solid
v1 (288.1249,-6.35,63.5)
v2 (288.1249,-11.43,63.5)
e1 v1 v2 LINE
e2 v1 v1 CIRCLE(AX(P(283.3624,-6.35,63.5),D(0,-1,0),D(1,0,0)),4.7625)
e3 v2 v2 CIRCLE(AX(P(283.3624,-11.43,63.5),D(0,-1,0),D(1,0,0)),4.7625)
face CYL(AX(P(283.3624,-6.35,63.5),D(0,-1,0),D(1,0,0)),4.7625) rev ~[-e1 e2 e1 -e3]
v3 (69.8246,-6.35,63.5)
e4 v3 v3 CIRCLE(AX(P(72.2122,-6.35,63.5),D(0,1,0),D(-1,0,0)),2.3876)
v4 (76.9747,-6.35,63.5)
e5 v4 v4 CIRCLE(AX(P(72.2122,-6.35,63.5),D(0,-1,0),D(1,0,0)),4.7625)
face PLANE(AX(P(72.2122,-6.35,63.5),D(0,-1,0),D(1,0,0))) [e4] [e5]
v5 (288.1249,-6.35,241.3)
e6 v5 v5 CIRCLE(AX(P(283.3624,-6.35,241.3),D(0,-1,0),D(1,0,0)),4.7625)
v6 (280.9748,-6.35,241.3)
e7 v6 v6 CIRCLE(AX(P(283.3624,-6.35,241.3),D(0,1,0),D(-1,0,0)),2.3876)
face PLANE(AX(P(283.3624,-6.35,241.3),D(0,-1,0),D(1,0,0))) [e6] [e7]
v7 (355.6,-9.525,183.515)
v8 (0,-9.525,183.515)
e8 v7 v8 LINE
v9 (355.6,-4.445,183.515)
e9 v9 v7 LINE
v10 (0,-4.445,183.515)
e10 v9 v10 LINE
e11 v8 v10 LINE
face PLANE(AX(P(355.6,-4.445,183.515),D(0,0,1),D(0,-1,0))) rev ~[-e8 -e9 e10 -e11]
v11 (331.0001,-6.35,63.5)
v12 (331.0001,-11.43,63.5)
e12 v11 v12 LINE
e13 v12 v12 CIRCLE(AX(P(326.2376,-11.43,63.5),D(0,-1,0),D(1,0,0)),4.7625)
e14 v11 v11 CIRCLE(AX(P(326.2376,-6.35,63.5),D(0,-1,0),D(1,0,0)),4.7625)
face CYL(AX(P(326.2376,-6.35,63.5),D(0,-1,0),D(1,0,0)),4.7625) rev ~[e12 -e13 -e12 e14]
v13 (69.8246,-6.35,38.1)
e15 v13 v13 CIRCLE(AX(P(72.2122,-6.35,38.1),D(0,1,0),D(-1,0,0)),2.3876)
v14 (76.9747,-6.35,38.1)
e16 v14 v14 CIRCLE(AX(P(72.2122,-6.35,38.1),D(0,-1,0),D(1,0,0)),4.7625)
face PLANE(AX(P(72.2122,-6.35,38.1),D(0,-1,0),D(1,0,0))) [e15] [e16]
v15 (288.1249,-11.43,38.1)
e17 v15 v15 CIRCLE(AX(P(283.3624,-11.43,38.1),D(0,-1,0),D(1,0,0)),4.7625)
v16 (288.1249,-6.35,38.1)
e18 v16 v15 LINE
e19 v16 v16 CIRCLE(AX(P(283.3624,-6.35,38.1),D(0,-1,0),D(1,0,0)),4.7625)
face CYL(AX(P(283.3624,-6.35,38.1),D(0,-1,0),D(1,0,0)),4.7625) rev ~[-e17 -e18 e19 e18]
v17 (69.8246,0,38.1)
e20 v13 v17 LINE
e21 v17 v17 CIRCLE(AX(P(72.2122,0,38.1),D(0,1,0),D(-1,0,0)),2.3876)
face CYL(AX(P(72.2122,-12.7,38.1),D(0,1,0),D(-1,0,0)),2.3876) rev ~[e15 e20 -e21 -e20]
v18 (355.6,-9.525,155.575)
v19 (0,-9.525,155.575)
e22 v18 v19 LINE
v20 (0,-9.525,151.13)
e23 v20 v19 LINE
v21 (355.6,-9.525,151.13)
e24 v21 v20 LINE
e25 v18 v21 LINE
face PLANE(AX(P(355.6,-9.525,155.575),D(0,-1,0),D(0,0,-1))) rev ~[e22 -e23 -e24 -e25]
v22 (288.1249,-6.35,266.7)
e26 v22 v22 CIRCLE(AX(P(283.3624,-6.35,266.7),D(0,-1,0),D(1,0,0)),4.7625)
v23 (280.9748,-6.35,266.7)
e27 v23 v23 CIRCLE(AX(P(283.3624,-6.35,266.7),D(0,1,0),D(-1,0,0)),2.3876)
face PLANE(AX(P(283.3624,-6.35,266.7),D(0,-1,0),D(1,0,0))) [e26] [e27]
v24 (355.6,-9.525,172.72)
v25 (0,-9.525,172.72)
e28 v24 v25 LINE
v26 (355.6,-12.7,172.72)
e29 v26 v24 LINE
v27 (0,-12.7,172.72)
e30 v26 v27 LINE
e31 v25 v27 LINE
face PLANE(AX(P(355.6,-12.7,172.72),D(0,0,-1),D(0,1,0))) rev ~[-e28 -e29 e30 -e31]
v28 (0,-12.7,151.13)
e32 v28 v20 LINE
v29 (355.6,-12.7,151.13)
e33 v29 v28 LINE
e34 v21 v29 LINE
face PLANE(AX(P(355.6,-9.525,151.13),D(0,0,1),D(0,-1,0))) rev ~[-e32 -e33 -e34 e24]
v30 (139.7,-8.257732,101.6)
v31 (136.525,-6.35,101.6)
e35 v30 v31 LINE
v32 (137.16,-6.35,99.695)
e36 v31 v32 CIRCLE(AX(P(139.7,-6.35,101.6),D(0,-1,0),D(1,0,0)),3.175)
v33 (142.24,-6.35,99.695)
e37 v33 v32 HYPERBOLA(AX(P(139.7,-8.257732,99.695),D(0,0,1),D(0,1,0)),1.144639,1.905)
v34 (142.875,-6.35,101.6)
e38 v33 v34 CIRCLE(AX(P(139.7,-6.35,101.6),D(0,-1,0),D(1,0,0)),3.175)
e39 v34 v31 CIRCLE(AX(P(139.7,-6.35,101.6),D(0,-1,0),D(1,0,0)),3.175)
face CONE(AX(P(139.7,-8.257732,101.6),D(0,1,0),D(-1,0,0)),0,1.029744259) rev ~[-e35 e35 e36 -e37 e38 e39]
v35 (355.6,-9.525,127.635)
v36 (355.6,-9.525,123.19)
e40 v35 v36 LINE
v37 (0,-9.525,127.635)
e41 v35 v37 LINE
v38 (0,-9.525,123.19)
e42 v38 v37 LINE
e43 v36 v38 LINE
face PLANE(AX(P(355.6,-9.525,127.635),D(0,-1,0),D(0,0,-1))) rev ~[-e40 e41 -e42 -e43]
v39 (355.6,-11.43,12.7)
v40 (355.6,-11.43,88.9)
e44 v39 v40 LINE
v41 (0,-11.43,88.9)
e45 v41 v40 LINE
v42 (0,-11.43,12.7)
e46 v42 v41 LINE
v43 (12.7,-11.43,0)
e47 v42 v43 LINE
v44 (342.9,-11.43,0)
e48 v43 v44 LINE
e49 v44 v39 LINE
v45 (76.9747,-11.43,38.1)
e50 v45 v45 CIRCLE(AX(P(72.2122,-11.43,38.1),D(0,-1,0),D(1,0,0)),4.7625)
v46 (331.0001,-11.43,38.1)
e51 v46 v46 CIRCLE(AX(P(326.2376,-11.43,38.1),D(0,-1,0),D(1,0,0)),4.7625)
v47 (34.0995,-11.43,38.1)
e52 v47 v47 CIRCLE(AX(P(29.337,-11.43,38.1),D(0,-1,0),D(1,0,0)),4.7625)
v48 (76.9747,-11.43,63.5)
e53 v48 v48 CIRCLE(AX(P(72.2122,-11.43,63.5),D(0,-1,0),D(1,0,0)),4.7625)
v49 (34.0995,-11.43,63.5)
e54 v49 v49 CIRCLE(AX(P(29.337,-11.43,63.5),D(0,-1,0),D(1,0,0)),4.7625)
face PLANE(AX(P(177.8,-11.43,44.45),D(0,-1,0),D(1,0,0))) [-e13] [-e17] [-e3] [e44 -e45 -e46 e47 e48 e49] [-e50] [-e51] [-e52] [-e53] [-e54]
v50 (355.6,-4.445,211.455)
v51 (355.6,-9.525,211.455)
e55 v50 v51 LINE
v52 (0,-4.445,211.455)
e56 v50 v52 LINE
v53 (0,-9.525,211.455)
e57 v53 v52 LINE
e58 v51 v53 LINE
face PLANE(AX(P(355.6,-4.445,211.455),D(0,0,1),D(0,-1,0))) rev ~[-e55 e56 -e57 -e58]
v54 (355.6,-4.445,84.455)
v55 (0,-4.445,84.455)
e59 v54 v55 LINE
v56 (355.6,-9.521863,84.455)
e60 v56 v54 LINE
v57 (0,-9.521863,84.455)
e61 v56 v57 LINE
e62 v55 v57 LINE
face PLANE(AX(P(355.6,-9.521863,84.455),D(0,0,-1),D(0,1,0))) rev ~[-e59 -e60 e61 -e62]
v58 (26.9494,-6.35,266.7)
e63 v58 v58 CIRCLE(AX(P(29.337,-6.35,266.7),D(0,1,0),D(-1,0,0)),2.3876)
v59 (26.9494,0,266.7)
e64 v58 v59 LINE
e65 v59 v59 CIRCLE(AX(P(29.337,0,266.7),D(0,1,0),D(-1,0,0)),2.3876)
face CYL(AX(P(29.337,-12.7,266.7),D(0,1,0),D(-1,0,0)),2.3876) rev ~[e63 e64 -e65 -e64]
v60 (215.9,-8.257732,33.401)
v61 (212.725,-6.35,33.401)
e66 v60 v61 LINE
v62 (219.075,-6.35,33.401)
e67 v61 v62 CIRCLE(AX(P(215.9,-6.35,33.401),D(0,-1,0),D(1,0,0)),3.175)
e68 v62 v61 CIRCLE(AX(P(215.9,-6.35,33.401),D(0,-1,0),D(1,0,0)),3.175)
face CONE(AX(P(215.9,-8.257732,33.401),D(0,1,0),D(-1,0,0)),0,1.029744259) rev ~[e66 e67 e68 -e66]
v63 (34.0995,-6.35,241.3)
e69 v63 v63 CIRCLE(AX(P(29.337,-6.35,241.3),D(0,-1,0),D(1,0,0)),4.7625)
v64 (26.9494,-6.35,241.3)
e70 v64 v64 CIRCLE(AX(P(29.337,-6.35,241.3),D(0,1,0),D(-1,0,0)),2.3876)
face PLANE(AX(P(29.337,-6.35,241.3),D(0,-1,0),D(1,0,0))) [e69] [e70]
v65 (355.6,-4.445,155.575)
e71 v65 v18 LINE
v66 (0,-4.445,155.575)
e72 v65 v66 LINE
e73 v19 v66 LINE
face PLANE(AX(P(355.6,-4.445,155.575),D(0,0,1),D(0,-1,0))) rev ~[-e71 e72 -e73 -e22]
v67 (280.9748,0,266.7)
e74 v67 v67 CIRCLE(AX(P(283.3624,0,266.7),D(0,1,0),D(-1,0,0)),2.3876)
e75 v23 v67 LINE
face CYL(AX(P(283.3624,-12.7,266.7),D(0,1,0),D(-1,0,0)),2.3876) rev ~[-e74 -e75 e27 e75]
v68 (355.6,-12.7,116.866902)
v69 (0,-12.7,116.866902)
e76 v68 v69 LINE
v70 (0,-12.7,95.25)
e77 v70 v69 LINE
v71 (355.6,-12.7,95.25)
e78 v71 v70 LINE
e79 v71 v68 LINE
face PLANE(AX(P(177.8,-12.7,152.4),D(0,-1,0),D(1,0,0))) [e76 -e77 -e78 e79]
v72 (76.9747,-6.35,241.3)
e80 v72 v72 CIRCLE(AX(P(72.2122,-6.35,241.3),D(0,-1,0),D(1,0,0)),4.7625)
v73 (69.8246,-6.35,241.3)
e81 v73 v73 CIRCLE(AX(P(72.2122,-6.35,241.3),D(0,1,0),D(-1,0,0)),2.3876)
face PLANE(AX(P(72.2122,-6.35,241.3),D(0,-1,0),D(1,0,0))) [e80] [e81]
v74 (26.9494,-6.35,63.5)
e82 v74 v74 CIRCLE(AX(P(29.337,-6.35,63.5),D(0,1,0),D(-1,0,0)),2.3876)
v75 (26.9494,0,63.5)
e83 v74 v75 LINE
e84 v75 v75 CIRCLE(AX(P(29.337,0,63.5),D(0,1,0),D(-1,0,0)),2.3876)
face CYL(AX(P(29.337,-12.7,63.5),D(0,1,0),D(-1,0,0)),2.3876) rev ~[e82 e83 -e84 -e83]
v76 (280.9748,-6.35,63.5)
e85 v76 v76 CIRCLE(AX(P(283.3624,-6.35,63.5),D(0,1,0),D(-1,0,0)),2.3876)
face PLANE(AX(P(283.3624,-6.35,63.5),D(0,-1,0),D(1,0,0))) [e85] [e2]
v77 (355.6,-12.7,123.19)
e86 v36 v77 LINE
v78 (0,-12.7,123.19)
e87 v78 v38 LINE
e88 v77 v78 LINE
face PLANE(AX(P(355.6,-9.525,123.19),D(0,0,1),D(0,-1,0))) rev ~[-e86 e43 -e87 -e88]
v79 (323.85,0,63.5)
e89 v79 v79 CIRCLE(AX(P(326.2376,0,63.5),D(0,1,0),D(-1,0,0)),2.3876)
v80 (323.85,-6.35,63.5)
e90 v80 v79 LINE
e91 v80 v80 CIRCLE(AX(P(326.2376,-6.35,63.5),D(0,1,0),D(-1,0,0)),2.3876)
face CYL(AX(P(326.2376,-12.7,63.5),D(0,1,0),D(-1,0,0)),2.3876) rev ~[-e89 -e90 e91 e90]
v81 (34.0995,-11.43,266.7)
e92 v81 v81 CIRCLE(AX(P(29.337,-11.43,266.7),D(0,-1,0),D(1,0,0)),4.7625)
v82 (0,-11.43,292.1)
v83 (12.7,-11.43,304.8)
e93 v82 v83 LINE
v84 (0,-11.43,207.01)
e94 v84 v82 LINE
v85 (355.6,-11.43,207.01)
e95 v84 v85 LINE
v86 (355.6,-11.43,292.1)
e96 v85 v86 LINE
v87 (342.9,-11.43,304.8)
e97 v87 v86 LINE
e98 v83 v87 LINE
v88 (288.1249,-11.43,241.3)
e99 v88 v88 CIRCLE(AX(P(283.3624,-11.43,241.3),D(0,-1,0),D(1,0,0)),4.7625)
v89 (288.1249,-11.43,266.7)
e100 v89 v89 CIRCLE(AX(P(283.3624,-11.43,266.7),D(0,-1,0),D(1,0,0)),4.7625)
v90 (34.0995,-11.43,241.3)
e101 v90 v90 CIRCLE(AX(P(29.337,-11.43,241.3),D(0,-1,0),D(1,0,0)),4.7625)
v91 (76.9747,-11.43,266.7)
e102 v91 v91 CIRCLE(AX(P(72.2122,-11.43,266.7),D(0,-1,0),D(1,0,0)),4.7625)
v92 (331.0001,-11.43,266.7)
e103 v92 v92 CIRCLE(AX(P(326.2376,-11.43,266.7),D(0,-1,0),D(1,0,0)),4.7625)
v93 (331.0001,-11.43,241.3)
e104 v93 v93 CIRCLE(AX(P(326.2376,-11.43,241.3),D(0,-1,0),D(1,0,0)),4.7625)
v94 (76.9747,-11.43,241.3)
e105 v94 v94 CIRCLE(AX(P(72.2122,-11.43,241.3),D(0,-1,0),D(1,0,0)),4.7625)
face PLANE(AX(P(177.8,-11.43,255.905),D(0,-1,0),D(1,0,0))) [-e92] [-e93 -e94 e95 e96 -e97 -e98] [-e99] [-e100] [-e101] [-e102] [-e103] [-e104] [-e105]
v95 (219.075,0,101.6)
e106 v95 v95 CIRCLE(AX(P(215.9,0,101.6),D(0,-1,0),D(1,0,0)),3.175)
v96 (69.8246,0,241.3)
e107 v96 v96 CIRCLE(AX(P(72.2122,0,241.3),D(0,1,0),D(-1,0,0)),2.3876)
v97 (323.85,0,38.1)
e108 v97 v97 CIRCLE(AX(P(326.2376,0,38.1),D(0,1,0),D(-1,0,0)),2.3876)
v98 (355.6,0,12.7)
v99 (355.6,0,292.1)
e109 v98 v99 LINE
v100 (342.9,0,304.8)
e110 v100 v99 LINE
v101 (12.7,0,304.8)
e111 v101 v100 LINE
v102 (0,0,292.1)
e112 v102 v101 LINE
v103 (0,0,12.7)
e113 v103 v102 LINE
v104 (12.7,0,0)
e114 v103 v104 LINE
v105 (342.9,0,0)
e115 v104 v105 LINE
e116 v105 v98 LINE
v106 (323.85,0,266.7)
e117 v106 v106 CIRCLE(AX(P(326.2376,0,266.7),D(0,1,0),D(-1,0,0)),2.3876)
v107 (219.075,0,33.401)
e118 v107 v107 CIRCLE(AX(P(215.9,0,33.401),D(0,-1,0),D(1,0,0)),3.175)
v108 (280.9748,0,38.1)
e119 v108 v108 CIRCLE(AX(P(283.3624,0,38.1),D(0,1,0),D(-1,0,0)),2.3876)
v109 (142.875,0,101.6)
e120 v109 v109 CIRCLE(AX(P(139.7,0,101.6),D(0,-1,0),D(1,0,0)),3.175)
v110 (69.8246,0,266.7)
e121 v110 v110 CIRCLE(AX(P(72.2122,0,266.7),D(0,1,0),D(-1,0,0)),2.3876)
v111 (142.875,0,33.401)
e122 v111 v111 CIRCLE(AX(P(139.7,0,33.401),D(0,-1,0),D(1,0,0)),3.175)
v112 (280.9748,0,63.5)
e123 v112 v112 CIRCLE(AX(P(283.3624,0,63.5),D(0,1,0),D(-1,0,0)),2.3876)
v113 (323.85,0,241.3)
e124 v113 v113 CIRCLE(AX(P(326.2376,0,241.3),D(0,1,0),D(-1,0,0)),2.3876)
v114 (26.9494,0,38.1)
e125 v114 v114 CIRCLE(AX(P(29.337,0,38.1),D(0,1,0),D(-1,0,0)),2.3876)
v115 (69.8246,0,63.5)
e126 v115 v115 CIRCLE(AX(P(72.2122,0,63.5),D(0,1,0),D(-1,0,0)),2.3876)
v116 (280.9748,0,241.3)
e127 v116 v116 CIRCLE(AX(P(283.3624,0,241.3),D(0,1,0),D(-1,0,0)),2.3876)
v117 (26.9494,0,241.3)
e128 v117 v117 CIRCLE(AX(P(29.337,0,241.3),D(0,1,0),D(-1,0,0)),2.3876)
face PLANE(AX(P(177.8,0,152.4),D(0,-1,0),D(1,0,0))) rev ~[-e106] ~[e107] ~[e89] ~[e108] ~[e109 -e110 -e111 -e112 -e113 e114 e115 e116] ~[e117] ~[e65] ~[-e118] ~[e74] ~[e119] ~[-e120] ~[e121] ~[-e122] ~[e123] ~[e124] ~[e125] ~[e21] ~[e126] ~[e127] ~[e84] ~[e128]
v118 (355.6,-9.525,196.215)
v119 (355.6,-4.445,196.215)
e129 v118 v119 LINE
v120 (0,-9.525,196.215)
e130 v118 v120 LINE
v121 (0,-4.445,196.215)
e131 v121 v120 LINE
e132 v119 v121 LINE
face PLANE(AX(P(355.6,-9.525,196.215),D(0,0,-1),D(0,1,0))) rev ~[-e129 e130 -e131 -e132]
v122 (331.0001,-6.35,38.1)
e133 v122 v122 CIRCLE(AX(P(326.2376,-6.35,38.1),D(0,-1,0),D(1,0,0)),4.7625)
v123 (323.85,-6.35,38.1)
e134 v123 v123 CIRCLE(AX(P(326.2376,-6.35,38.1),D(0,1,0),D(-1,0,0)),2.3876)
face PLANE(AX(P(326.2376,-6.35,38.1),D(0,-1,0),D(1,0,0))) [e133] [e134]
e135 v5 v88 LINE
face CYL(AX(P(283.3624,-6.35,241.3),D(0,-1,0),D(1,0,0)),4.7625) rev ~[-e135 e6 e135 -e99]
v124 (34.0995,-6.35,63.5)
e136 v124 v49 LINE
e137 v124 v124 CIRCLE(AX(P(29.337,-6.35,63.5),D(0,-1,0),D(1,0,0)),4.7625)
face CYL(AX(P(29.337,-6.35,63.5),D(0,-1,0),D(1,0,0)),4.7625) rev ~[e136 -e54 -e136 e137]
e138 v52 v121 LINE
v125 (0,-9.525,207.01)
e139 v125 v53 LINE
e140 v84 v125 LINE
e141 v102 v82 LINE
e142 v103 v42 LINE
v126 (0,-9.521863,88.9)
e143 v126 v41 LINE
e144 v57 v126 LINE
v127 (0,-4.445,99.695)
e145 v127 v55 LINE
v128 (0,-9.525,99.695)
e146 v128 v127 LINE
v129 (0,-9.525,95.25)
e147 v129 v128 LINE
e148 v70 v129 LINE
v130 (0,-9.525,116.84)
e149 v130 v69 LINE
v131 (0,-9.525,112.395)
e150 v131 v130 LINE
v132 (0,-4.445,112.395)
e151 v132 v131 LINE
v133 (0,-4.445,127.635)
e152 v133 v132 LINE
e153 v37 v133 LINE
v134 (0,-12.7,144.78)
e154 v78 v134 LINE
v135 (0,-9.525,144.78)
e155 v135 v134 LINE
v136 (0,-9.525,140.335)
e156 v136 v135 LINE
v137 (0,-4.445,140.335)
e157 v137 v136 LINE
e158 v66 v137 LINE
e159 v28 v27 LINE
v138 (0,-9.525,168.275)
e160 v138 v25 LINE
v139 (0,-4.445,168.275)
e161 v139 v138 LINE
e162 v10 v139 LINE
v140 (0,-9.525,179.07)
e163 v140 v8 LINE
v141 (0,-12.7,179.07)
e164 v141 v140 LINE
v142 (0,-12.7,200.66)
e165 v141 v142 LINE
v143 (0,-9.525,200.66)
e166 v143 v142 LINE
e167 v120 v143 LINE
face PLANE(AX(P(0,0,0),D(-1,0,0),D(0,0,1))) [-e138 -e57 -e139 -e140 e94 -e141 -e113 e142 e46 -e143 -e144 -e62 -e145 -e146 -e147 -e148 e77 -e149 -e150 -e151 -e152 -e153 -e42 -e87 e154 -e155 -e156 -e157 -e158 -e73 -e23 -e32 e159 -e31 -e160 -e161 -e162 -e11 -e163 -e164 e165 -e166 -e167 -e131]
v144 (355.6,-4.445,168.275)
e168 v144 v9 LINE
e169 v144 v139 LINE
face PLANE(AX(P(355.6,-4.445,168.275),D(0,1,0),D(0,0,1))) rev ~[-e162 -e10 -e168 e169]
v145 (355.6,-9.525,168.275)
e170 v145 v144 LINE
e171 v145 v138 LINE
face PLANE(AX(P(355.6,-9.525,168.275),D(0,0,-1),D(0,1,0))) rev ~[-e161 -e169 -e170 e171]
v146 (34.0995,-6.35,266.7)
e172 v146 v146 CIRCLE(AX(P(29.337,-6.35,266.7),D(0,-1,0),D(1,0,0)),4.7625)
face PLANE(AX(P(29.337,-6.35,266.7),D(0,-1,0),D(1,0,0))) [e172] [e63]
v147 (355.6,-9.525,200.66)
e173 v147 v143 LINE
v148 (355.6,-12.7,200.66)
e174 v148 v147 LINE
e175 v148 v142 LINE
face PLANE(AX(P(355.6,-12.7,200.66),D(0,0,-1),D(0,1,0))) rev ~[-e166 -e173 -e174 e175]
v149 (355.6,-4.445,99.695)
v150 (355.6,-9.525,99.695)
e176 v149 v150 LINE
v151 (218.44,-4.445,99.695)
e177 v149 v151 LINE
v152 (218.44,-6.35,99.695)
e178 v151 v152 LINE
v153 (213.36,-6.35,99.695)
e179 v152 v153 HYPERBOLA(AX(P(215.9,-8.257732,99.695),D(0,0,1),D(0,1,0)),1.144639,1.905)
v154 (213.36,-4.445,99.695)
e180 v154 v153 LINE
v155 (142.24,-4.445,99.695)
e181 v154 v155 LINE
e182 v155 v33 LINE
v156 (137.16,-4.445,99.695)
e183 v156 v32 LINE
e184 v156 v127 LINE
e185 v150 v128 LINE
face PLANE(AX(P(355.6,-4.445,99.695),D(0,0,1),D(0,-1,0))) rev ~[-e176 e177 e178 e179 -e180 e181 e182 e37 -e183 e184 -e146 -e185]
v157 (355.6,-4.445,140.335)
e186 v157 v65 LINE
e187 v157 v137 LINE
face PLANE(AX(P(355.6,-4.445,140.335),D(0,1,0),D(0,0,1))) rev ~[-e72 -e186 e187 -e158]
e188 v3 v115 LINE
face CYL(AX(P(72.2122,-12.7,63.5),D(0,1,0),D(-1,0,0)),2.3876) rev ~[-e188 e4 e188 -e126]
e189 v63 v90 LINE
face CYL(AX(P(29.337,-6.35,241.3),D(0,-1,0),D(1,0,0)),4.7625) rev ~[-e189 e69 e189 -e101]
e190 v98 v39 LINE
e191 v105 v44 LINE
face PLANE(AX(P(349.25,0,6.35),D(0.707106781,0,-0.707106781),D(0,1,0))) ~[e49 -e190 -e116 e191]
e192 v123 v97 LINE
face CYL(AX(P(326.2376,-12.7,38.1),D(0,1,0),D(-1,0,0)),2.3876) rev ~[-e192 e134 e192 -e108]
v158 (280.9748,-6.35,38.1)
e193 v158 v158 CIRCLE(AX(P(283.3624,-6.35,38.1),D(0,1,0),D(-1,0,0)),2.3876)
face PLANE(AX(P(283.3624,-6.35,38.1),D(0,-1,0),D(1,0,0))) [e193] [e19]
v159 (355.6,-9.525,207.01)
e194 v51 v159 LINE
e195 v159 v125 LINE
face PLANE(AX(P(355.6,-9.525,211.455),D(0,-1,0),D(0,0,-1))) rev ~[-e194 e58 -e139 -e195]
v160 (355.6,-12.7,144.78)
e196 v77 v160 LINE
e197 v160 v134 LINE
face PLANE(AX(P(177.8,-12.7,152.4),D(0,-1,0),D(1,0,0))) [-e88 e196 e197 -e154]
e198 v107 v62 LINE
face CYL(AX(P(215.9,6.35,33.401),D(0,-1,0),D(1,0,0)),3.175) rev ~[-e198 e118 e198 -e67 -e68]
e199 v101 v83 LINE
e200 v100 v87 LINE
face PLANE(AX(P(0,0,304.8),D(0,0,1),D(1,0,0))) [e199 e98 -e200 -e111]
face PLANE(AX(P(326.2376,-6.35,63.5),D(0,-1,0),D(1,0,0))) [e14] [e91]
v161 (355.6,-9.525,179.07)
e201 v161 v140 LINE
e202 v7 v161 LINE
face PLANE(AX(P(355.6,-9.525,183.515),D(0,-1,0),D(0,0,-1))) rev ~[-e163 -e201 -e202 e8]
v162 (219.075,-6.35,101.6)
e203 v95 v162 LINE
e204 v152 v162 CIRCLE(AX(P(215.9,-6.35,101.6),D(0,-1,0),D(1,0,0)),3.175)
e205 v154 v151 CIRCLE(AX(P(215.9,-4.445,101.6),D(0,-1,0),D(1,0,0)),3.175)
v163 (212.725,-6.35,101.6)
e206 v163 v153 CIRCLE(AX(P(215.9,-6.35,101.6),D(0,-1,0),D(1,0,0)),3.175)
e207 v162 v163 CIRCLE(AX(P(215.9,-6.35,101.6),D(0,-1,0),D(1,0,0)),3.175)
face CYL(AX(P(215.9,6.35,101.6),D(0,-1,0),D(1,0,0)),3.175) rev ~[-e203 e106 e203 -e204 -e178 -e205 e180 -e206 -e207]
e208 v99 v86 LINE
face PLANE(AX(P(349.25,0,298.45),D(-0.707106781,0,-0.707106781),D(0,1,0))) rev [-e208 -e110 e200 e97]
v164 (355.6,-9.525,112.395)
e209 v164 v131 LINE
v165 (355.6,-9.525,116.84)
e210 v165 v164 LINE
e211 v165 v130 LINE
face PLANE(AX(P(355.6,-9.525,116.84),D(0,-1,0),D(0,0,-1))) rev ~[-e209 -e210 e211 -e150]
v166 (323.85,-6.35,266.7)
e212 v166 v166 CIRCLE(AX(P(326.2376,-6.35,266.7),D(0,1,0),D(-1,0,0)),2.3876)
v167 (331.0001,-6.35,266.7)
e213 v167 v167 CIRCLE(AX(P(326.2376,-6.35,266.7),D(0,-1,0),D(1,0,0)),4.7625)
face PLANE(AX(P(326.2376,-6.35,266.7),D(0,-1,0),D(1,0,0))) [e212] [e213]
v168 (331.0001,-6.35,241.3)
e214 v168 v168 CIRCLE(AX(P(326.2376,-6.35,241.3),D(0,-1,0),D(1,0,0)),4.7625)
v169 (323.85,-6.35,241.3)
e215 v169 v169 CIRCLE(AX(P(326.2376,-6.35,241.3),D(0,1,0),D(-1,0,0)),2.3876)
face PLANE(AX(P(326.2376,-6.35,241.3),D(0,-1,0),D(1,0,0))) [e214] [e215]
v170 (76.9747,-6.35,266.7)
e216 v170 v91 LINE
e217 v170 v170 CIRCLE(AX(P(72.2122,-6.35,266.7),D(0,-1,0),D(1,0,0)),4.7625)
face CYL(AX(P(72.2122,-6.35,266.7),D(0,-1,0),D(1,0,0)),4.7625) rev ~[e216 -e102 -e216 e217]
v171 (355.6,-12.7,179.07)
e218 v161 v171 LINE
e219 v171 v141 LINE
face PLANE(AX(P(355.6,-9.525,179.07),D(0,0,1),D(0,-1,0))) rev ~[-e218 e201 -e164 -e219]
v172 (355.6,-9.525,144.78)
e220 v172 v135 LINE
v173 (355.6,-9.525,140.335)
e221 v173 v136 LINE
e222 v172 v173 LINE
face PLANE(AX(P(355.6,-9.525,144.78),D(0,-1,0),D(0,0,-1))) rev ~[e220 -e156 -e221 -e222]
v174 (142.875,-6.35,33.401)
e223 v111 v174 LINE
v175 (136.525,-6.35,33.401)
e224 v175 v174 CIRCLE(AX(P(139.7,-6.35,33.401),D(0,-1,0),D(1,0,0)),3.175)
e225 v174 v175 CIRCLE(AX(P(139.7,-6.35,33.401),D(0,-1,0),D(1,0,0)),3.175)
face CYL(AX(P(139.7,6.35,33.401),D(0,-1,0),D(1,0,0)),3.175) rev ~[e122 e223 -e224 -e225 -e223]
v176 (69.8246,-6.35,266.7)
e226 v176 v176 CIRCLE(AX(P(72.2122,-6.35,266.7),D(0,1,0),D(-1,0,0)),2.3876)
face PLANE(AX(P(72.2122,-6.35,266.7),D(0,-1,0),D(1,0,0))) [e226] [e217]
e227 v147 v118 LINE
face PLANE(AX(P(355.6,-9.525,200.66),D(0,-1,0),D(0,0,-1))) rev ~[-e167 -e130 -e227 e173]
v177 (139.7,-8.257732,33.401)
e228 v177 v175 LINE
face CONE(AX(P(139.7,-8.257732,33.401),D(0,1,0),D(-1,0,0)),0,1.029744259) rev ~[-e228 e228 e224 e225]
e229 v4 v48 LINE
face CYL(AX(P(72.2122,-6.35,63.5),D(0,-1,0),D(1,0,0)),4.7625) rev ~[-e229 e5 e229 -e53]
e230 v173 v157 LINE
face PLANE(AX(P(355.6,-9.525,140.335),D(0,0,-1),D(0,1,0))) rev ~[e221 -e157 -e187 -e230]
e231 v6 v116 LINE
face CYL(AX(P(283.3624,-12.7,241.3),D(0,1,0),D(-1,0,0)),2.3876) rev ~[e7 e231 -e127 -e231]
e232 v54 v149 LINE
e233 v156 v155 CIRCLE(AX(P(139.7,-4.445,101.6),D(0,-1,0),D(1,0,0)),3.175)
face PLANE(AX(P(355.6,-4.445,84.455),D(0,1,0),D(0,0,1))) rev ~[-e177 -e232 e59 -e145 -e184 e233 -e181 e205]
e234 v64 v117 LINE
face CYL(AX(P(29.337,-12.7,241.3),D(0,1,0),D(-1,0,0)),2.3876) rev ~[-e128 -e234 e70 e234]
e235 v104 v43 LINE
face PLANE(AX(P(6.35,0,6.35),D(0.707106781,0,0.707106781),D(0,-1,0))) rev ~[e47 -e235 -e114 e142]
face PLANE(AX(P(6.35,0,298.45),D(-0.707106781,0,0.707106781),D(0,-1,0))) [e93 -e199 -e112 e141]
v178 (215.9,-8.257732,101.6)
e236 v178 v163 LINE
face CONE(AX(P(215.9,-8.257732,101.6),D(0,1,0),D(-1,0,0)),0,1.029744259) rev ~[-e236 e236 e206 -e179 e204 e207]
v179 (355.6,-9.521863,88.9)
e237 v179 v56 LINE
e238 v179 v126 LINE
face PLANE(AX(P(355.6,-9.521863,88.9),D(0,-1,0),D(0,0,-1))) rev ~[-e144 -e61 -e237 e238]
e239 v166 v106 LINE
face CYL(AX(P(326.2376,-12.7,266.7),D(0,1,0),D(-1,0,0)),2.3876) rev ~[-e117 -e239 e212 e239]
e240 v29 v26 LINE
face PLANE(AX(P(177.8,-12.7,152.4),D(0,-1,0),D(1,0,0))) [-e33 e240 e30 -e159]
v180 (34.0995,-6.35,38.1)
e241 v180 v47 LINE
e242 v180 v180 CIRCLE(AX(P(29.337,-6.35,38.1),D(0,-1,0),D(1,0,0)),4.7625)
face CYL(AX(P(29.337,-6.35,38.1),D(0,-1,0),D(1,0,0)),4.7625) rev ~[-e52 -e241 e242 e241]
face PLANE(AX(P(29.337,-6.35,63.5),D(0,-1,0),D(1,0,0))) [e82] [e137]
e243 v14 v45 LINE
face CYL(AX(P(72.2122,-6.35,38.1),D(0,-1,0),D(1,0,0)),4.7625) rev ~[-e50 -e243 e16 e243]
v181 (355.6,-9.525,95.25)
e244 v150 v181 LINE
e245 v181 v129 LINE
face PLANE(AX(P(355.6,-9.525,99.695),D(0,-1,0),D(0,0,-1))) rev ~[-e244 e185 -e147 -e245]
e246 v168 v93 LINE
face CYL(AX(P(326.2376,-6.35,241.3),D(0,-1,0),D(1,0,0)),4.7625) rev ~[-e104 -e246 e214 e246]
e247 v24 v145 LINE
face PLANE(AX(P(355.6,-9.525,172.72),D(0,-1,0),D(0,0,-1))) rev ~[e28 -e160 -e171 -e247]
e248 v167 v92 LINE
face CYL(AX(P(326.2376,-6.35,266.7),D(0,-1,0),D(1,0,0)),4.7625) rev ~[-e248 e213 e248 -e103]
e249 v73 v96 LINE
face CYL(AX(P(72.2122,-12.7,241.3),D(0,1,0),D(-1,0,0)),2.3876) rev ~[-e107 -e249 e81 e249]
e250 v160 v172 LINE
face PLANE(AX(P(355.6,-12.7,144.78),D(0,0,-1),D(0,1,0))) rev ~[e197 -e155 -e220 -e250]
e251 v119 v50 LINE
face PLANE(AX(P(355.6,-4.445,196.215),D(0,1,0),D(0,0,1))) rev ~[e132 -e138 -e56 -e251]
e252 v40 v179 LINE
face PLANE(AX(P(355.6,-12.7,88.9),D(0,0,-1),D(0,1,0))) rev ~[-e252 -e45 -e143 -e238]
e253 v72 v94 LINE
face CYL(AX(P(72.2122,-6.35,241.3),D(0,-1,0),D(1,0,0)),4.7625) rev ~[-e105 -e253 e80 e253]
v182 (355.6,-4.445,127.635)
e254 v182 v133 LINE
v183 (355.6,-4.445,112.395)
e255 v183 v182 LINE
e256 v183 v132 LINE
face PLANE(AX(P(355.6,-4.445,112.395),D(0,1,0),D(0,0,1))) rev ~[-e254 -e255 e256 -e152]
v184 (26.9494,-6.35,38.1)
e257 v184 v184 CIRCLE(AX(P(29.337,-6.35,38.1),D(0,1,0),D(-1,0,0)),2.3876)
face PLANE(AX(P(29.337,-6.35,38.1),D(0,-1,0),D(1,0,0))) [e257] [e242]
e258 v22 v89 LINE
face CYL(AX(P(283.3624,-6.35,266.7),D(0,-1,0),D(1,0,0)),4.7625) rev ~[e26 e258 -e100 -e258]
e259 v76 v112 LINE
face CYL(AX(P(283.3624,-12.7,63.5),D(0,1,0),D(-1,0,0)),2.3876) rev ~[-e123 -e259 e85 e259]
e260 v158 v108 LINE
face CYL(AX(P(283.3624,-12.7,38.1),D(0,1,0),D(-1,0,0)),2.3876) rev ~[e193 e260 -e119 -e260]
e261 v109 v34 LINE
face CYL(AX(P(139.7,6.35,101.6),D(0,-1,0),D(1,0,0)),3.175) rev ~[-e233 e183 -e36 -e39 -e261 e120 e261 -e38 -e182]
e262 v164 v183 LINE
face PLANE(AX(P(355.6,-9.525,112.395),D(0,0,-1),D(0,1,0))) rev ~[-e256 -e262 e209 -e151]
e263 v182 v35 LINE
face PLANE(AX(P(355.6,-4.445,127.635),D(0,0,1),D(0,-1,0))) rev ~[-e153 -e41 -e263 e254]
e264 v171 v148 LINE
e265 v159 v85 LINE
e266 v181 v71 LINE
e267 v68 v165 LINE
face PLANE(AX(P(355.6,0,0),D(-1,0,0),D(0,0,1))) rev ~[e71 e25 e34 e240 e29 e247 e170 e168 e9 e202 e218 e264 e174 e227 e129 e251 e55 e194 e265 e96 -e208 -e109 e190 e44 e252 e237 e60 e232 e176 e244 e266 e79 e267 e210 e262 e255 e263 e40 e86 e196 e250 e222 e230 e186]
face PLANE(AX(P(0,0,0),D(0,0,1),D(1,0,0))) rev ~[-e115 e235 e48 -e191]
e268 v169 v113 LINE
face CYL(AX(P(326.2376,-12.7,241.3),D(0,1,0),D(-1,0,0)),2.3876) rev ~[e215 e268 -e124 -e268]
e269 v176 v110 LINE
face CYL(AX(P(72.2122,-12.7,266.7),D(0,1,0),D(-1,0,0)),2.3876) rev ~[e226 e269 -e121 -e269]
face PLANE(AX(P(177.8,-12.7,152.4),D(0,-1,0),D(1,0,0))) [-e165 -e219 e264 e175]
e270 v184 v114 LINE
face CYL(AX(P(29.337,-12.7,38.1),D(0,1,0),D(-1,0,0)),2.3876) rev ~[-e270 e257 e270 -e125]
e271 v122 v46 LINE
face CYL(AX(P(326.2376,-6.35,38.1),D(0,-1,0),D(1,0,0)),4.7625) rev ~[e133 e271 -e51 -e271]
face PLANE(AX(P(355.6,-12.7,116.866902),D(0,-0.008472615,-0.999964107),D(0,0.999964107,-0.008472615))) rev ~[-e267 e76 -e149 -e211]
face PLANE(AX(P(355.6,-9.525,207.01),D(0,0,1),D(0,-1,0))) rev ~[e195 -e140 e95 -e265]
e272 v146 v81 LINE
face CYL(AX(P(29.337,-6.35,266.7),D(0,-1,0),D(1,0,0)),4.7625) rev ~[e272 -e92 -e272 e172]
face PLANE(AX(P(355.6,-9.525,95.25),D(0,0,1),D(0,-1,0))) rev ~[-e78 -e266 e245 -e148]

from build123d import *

# Parameters (mm, degrees)
F0_W           = 355.6
F0_H           = 304.8
F1_DEPTH       = 12.7
F3_D           = 4.7752
F3_CBORE_D     = 9.525
F3_CBORE_DEPTH = 6.35
F5_DEPTH       = 355.601
F6_W           = 355.6
F6_H           = 97.79
F6_R           = 4.7625
F7_DEPTH       = 1.27
F8_W           = 355.6
F8_H           = 88.9
F8_R           = 4.7625
F9_DEPTH       = 1.27
F11_D          = 6.35
F11_DEPTH      = 6.35
F11_TIP        = 1.9077324654
F12_SIZE       = 12.7


with BuildPart() as f1:
    # F0 (on Front) → F1 (new body)
    with BuildSketch(Plane.XZ):
        with Locations((177.8, 152.4)):
            Rectangle(F0_W, F0_H)
    extrude(amount=F1_DEPTH)

    # F3 (through all)
    with Locations(Plane.XZ.offset(12.7)):
        with Locations((29.337, 266.7), (29.337, 241.3), (72.2122, 241.3), (72.2122, 266.7), (29.337, 63.5), (29.337, 38.1), (72.2122, 38.1), (72.2122, 63.5), (283.3624, 63.5), (283.3624, 38.1), (326.2376, 38.1), (326.2376, 63.5), (326.2376, 241.3), (283.3624, 241.3), (283.3624, 266.7), (326.2376, 266.7)):
            CounterBoreHole(F3_D / 2, F3_CBORE_D / 2, F3_CBORE_DEPTH)

    # F4 (on face) → F5 (cut, through all)
    with BuildSketch(Plane.YZ.offset(355.6)):
        Polygon((-9.525, 207.01), (-12.7, 207.01), (-12.7, 200.66), (-9.525, 200.66), (-9.525, 196.215), (-4.445, 196.215), (-4.445, 211.455), (-9.525, 211.455), align=None)
        Polygon((-12.7, 179.07), (-12.7, 172.72), (-9.525, 172.72), (-9.525, 168.275), (-4.445, 168.275), (-4.445, 183.515), (-9.525, 183.515), (-9.525, 179.07), align=None)
        Polygon((-12.7, 151.13), (-12.7, 144.78), (-9.525, 144.78), (-9.525, 140.335), (-4.445, 140.335), (-4.445, 155.575), (-9.525, 155.575), (-9.525, 151.13), align=None)
        Polygon((-12.7, 123.19), (-12.7, 116.8669015169), (-9.525, 116.84), (-9.525, 112.395), (-4.445, 112.395), (-4.445, 127.635), (-9.525, 127.635), (-9.525, 123.19), align=None)
        Polygon((-12.7, 95.25), (-12.7, 88.9), (-9.5218634233, 88.9), (-9.5218634233, 84.455), (-4.445, 84.455), (-4.445, 99.695), (-9.525, 99.695), (-9.525, 95.25), align=None)
    extrude(amount=-F5_DEPTH, mode=Mode.SUBTRACT)

    # F6 (on face) → F7 (cut)
    with BuildSketch(Plane.XZ.offset(12.7)):
        with Locations((177.8, 255.905)):
            Rectangle(F6_W, F6_H)
        with Locations((29.337, 241.3)):
            Circle(F6_R, mode=Mode.SUBTRACT)
        with Locations((72.2122, 241.3)):
            Circle(F6_R, mode=Mode.SUBTRACT)
        with Locations((283.3624, 241.3)):
            Circle(F6_R, mode=Mode.SUBTRACT)
        with Locations((326.2376, 241.3)):
            Circle(F6_R, mode=Mode.SUBTRACT)
        with Locations((29.337, 266.7)):
            Circle(F6_R, mode=Mode.SUBTRACT)
        with Locations((72.2122, 266.7)):
            Circle(F6_R, mode=Mode.SUBTRACT)
        with Locations((283.3624, 266.7)):
            Circle(F6_R, mode=Mode.SUBTRACT)
        with Locations((326.2376, 266.7)):
            Circle(F6_R, mode=Mode.SUBTRACT)
    extrude(amount=-F7_DEPTH, mode=Mode.SUBTRACT)

    # F8 (on face) → F9 (cut)
    with BuildSketch(Plane.XZ.offset(12.7)):
        with Locations((177.8, 44.45)):
            Rectangle(F8_W, F8_H)
        with Locations((29.337, 38.1)):
            Circle(F8_R, mode=Mode.SUBTRACT)
        with Locations((72.2122, 38.1)):
            Circle(F8_R, mode=Mode.SUBTRACT)
        with Locations((283.3624, 38.1)):
            Circle(F8_R, mode=Mode.SUBTRACT)
        with Locations((326.2376, 38.1)):
            Circle(F8_R, mode=Mode.SUBTRACT)
        with Locations((29.337, 63.5)):
            Circle(F8_R, mode=Mode.SUBTRACT)
        with Locations((72.2122, 63.5)):
            Circle(F8_R, mode=Mode.SUBTRACT)
        with Locations((283.3624, 63.5)):
            Circle(F8_R, mode=Mode.SUBTRACT)
        with Locations((326.2376, 63.5)):
            Circle(F8_R, mode=Mode.SUBTRACT)
    extrude(amount=-F9_DEPTH, mode=Mode.SUBTRACT)

    # F11
    with Locations(Plane(origin=(0, 0, 0), x_dir=(-1, 0, 0), z_dir=(0, 1, 0))):
        with Locations((-215.9, 101.6), (-215.9, 33.401), (-139.7, 33.401), (-139.7, 101.6)):
            Hole(F11_D / 2, depth=F11_DEPTH)
            with Locations((0, 0, -(F11_DEPTH + F11_TIP / 2))):  # 118° drill point
                Cone(0, F11_D / 2, F11_TIP, mode=Mode.SUBTRACT)

    # F12
    f12_edges = [f1.edges().sort_by_distance(p)[0] for p in [
        (355.6, -5.715, 304.8),
        (355.6, -5.715, 0),
        (0, -5.715, 304.8),
        (0, -5.715, 0),
    ]]
    chamfer(f12_edges, length=F12_SIZE)


solid = f1.part
